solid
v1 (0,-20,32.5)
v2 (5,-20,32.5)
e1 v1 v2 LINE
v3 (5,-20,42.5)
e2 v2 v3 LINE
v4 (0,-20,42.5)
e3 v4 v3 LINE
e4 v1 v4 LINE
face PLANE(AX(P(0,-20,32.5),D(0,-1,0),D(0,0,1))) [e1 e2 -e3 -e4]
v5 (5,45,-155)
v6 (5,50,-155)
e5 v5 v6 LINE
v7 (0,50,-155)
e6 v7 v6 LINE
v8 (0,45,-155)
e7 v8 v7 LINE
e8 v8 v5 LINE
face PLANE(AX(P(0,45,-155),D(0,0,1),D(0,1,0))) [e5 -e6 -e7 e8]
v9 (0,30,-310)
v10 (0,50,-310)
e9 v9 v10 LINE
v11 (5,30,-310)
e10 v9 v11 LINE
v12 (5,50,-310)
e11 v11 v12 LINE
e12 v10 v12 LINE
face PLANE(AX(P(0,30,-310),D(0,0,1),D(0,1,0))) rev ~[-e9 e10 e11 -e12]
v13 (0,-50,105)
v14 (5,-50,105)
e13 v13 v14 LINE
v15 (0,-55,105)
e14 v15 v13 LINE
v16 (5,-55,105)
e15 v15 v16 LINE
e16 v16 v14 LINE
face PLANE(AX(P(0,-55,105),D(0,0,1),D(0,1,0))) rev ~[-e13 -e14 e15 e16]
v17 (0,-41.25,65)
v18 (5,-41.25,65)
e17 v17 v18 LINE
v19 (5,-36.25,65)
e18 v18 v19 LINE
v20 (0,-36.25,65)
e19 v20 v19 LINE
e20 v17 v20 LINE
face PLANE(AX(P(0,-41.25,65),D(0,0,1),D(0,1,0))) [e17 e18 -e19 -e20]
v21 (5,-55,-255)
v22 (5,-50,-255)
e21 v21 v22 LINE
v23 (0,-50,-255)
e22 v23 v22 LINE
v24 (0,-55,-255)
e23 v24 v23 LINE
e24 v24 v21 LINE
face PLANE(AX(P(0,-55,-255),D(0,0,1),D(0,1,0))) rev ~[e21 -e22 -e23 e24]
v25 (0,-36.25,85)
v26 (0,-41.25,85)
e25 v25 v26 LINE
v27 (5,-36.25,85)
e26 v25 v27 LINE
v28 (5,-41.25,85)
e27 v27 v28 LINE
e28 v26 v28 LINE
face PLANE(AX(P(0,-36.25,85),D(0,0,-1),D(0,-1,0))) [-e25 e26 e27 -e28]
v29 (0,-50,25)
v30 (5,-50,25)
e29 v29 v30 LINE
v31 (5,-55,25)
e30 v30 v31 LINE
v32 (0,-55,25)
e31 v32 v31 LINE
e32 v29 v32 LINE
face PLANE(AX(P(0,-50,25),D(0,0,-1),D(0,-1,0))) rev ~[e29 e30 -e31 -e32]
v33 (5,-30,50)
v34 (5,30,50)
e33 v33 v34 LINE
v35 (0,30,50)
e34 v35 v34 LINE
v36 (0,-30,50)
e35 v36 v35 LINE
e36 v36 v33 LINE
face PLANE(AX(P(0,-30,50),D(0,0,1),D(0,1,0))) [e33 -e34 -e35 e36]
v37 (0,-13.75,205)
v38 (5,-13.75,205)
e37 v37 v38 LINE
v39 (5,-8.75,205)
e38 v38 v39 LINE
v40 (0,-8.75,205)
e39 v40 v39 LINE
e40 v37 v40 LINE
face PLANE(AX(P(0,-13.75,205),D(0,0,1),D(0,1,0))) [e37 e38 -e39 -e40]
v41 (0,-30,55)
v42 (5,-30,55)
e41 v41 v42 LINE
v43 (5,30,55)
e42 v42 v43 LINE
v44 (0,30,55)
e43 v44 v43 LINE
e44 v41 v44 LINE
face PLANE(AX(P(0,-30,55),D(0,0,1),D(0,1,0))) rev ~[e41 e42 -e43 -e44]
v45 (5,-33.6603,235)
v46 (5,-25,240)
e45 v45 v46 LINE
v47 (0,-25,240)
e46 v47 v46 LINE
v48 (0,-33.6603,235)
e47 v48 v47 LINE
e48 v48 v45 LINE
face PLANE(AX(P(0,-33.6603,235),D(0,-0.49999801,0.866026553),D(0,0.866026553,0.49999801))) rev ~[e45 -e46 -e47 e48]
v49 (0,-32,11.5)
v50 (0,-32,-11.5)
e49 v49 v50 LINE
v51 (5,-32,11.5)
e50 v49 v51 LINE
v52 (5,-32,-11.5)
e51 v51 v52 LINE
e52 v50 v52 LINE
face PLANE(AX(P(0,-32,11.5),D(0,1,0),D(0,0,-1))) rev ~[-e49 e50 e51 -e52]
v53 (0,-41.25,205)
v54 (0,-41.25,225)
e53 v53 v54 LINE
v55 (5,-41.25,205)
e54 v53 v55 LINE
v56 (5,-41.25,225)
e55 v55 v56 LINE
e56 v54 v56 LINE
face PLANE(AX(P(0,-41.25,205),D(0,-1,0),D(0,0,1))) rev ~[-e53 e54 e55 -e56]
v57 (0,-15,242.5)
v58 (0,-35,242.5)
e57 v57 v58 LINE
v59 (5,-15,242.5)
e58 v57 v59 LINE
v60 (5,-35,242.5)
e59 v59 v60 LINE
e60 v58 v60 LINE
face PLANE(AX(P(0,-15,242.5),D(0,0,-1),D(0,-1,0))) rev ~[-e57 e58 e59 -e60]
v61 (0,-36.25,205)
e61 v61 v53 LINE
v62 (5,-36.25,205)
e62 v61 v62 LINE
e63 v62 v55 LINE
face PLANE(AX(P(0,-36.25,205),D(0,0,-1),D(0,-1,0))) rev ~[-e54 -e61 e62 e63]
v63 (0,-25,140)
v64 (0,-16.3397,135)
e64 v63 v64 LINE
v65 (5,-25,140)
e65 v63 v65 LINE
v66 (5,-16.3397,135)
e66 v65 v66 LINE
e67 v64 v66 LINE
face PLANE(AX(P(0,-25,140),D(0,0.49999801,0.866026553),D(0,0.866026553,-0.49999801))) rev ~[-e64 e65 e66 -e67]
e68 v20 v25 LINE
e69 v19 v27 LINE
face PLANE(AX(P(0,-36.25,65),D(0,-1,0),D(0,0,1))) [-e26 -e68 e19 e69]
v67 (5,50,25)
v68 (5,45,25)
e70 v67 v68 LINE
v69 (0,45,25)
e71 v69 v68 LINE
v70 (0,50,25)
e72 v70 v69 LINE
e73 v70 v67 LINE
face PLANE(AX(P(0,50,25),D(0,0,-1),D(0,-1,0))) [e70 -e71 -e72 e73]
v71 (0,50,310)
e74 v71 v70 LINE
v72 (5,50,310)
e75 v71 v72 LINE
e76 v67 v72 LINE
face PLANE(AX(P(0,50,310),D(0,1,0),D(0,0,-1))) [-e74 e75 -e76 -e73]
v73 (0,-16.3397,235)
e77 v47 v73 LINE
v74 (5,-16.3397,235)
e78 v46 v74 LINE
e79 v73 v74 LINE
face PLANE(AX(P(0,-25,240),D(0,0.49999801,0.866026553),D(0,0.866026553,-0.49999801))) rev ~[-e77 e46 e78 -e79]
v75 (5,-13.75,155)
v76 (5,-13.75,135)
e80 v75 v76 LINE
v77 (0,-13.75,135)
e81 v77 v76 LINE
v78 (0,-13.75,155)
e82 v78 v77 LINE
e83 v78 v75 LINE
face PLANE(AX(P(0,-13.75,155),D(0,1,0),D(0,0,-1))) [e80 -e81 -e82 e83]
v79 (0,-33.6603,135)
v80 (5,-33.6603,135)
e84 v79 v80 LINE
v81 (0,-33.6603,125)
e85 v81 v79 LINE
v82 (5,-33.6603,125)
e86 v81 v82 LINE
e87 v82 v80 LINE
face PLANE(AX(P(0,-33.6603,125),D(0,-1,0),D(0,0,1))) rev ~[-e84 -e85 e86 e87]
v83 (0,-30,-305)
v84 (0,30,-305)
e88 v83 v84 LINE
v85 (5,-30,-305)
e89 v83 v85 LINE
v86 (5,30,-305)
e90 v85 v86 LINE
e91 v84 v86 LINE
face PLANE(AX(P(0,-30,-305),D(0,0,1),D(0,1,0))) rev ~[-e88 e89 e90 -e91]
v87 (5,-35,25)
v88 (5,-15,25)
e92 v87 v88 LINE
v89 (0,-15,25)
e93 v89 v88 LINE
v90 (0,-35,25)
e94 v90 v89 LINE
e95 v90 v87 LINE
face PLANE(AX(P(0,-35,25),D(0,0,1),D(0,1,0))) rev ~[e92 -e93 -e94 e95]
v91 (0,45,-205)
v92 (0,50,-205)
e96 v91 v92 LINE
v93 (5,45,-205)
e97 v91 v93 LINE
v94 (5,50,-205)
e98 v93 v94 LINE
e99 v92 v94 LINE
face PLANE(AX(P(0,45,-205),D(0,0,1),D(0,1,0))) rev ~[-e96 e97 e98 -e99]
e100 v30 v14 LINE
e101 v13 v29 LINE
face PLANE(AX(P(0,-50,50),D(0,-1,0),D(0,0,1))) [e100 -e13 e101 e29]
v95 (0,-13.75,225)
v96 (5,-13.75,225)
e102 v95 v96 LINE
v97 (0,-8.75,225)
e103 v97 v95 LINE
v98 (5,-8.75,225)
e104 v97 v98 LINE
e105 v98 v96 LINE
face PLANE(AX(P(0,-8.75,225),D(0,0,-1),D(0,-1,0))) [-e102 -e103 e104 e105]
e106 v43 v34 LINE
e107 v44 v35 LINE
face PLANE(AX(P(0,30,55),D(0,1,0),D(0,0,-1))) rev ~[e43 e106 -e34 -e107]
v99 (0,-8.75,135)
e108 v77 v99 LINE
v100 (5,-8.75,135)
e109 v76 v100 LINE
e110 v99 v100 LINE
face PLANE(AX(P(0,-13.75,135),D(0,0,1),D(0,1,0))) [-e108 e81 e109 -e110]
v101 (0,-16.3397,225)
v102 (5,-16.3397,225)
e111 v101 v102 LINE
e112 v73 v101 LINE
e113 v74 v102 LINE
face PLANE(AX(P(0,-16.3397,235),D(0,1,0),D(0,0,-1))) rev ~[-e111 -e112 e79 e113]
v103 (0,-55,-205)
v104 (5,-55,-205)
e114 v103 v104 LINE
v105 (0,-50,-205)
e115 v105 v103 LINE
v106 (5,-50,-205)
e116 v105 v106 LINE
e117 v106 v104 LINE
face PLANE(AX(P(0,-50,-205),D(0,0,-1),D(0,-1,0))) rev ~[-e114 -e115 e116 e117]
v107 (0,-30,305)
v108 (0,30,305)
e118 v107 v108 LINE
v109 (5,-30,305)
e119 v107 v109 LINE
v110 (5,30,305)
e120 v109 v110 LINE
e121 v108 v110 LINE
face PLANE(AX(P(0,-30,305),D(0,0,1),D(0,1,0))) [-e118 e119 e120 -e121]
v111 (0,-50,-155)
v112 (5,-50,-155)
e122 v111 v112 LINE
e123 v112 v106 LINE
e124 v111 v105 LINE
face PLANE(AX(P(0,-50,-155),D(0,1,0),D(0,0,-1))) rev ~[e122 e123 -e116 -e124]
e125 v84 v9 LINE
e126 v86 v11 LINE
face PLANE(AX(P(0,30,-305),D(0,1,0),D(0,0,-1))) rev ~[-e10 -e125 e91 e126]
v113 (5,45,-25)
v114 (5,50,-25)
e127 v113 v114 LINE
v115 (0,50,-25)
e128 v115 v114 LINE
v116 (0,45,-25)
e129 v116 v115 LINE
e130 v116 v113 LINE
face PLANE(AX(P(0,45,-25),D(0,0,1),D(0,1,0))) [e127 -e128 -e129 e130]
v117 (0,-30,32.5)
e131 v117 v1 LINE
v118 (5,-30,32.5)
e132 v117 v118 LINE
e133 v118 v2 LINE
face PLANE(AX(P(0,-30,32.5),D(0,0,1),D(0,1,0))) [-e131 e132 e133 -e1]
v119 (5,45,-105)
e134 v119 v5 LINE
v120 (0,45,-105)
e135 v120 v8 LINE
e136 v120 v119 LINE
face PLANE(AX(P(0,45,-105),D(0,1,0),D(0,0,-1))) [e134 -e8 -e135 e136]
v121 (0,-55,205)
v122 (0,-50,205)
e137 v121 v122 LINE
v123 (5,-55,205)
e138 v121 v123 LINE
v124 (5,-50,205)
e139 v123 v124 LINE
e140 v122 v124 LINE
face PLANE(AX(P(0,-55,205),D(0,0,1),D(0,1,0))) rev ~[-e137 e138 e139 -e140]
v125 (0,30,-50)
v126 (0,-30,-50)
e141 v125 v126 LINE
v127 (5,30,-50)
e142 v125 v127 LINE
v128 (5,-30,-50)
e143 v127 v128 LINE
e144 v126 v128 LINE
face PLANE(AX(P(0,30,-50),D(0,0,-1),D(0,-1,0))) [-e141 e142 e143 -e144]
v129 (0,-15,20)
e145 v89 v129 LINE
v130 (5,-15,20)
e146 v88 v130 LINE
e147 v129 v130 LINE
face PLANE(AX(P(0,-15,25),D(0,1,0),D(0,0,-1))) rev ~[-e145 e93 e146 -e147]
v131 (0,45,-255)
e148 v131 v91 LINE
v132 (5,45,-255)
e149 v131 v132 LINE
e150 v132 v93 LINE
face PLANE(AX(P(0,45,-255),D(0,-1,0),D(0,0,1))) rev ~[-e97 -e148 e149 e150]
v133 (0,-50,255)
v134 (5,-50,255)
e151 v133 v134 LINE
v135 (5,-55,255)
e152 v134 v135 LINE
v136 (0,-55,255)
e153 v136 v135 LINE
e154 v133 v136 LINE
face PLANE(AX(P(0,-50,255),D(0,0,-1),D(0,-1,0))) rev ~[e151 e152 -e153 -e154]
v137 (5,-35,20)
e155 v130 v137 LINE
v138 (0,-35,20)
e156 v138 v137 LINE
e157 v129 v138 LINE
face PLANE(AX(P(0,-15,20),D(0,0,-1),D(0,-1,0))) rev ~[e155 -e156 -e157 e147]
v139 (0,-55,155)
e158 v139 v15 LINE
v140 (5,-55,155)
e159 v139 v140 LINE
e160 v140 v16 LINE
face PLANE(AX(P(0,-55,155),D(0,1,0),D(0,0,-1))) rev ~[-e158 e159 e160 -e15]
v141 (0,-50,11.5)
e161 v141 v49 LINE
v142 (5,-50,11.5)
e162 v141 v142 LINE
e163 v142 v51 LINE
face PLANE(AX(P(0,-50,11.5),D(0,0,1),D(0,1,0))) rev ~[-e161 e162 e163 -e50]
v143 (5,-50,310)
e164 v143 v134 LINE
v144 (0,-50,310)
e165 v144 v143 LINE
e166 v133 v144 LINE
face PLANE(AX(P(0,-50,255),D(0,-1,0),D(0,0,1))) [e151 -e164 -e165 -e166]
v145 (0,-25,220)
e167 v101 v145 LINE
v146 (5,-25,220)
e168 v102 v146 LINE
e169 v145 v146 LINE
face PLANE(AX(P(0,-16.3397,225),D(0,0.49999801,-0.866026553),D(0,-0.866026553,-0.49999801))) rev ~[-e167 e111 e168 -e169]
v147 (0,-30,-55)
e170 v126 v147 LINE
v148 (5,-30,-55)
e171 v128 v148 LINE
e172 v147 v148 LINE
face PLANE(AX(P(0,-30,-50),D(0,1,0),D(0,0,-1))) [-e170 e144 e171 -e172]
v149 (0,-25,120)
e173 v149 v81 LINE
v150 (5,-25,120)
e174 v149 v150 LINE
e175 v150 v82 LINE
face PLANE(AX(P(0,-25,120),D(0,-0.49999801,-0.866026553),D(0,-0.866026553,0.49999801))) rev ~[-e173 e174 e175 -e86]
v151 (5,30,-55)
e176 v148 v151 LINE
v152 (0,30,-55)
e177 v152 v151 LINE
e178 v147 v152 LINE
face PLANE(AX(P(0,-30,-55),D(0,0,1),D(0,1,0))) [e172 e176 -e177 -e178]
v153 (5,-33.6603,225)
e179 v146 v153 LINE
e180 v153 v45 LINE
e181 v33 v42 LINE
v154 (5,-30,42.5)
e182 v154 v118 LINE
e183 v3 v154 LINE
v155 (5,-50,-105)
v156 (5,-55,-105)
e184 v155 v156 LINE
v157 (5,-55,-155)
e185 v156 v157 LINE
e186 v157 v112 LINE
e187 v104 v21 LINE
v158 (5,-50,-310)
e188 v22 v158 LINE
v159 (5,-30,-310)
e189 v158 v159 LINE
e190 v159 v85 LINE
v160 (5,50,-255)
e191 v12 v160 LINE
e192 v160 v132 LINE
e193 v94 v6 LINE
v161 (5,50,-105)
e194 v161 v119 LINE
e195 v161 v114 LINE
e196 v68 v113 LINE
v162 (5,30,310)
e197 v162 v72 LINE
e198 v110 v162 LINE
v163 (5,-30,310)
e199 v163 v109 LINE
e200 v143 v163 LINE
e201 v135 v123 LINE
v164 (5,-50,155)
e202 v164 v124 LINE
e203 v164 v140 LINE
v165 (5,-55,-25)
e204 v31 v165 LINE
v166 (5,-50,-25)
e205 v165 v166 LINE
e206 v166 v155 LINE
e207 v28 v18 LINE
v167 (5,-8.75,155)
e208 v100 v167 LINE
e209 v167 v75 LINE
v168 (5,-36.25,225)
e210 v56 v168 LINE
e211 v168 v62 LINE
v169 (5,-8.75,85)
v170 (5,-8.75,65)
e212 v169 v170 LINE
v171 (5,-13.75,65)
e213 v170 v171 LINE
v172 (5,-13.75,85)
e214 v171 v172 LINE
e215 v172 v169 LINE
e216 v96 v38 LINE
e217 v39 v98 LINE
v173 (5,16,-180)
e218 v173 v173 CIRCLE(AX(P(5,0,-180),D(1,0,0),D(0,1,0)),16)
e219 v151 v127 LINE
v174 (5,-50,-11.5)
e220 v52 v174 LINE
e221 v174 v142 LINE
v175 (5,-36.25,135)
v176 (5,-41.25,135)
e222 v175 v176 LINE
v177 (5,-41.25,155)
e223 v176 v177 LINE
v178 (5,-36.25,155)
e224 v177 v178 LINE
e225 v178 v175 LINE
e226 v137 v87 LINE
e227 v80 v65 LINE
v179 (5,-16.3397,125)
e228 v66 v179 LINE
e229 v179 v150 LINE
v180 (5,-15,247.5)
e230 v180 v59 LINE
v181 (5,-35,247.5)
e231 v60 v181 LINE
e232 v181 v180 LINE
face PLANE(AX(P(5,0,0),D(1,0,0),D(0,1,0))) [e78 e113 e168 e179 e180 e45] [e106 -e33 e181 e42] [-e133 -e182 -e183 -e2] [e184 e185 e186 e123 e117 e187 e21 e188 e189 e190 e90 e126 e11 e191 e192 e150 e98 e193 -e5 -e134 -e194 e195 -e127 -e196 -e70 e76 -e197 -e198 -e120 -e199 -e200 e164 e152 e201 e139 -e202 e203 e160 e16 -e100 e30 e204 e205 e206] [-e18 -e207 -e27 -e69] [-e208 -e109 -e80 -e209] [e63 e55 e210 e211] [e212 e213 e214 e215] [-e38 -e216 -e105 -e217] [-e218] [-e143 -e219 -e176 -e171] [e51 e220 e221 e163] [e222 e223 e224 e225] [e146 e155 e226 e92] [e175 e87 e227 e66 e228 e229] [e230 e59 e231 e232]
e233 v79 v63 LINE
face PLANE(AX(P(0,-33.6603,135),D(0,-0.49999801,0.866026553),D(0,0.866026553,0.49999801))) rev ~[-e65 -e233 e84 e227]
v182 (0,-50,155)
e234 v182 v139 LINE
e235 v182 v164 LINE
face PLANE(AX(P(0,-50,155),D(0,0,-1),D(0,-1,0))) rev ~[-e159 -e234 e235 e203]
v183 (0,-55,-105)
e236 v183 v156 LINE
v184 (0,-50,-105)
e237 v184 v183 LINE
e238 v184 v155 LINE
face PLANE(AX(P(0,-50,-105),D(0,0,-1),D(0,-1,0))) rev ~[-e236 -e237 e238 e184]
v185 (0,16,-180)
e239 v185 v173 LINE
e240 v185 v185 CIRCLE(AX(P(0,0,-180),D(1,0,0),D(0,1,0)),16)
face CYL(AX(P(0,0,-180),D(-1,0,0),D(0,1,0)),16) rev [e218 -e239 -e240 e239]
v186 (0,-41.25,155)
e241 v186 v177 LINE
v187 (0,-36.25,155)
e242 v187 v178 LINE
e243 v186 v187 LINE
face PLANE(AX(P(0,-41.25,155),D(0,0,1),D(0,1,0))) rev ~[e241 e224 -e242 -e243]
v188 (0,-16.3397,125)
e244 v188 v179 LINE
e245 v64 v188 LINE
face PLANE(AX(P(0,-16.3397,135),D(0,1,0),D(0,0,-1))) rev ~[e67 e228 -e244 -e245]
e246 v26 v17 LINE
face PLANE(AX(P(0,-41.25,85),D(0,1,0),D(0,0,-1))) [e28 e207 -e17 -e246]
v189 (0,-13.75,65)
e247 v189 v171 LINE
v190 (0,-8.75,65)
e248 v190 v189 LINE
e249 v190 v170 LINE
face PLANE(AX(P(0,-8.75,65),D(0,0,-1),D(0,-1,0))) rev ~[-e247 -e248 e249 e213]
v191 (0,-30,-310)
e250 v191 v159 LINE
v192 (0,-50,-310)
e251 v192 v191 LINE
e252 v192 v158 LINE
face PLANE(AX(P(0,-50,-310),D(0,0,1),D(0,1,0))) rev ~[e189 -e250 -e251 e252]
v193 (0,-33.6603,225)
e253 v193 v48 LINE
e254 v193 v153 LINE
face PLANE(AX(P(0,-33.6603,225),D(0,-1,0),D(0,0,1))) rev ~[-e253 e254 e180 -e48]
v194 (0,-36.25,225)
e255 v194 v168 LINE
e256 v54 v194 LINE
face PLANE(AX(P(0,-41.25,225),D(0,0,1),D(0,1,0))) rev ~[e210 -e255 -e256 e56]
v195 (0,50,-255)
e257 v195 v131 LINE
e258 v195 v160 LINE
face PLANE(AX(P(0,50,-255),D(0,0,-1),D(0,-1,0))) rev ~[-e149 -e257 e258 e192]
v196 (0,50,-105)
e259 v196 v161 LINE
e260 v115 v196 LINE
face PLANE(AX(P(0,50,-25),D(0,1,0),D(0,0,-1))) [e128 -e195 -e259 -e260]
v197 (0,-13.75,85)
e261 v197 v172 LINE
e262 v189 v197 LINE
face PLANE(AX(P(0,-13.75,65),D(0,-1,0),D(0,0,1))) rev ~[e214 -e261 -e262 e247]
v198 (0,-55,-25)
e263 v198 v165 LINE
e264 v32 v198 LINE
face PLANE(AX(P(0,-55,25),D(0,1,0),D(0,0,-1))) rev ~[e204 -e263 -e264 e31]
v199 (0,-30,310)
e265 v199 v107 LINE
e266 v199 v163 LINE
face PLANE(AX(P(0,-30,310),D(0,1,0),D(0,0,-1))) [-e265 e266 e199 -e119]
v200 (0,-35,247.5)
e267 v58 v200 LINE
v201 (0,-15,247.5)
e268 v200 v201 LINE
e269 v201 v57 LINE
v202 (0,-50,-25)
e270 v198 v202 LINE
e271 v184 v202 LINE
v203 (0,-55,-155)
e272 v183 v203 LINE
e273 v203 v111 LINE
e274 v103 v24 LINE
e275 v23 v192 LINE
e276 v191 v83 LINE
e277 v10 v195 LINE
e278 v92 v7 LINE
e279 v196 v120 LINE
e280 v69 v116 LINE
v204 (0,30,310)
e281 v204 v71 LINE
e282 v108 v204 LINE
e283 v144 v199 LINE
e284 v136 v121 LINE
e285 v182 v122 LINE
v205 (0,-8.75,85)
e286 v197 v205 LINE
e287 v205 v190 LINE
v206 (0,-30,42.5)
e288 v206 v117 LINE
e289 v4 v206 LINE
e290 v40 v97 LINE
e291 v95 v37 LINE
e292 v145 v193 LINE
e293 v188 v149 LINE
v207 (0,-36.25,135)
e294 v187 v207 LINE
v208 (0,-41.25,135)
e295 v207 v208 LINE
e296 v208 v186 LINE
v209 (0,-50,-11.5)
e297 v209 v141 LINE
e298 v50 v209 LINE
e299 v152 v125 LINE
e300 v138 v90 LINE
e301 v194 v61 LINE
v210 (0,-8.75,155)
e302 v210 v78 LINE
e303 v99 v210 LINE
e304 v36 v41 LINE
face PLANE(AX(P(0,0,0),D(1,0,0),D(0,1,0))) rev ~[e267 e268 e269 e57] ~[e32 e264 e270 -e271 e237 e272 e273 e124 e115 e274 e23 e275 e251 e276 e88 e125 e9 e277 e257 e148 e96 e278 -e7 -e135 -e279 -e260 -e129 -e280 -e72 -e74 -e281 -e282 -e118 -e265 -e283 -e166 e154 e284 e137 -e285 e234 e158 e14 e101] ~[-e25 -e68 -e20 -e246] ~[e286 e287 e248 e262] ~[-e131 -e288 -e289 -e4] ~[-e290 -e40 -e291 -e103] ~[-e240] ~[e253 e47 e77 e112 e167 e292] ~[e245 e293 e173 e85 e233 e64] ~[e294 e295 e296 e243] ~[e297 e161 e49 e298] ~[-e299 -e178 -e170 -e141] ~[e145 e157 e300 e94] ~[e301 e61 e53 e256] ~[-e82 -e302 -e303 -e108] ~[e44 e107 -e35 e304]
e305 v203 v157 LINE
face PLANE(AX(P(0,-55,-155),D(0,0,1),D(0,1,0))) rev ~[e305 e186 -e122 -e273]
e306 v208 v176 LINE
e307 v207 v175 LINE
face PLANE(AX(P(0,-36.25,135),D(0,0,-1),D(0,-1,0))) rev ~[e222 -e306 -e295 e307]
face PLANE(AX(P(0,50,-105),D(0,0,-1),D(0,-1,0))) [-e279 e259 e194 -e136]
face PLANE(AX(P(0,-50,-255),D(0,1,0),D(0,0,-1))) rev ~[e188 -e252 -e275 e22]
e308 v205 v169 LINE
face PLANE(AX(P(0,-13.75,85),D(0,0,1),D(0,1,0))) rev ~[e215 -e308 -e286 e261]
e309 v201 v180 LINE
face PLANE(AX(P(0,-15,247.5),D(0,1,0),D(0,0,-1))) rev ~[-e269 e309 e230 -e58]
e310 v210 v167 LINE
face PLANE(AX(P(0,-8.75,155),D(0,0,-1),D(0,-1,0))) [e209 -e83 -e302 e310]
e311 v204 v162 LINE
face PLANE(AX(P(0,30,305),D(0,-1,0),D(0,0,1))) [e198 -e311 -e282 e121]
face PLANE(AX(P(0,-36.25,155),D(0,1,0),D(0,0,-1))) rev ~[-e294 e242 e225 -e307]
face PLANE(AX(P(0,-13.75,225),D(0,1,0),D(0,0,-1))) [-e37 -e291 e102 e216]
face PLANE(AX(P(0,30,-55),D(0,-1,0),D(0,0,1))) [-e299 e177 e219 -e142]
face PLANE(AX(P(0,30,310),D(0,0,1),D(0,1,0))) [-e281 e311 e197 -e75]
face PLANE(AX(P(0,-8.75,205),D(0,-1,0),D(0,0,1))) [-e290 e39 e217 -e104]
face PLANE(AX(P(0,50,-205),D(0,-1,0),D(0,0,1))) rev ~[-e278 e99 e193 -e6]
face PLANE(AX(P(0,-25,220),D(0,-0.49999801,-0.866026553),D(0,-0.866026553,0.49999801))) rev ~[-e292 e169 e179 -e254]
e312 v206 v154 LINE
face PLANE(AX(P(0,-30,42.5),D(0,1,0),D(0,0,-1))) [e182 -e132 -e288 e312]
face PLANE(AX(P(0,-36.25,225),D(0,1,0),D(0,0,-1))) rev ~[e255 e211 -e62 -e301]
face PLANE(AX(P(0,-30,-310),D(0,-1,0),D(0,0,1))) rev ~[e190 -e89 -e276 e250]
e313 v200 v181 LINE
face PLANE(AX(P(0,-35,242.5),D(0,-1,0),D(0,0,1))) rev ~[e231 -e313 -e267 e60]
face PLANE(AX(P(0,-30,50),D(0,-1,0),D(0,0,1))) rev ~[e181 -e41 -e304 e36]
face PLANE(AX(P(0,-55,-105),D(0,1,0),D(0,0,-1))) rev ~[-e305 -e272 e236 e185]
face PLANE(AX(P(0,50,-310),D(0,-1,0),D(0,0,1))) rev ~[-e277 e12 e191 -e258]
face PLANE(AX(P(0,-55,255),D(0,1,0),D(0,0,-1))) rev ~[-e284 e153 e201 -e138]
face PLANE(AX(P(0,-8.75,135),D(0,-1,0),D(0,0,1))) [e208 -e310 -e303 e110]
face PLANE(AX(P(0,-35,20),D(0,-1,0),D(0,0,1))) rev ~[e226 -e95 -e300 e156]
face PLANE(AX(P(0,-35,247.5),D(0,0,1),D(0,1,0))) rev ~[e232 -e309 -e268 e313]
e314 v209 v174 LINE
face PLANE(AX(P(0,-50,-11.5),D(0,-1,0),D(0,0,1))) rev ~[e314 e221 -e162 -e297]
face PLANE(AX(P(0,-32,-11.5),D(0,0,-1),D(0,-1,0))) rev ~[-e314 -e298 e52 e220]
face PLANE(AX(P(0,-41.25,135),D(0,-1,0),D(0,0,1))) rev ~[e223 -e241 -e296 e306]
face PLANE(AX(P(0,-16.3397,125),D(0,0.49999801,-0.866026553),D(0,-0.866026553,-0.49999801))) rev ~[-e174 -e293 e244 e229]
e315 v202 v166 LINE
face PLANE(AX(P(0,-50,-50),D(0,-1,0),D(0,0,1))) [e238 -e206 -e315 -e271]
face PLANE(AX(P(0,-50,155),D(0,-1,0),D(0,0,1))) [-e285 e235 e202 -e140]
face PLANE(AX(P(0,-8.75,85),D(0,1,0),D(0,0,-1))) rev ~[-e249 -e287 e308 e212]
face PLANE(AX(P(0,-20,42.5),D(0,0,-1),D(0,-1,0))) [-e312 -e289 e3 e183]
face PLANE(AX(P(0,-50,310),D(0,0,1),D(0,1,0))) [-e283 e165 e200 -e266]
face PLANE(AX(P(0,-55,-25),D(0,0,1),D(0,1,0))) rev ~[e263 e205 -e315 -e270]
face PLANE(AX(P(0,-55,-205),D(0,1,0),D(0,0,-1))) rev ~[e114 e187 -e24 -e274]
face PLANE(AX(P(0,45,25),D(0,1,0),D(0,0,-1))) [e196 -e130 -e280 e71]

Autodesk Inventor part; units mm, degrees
ref_plane "YZ Plane" through (0, 0, 0) normal (1, 0, 0) x (0, 1, 0)
ref_plane "XZ Plane" through (0, 0, 0) normal (0, 1, 0) x (-1, 0, 0)
ref_plane "XY Plane" through (0, 0, 0) normal (0, 0, 1) x (1, 0, 0)
sketch "Sketch1" plane through (0, 0, 0) normal (1, 0, 0) x (0, 1, 0)
  line L0 (-50, 50) -> (50, 50)
  line L1 (50, 50) -> (50, -50)
  line L2 (50, -50) -> (-50, -50)
  line L3 (-50, -50) -> (-50, 50)
  line L4 (-50, 50) -> (50, -50) construction
  line L5 (50, 50) -> (-50, -50) construction
  line L6 (50, 50) -> (-50, 50)
  line L7 (-50, 50) -> (-50, 310)
  line L8 (-50, 310) -> (50, 310)
  line L9 (50, 310) -> (50, 50)
  line L10 (50, -50) -> (-50, -50)
  line L11 (-50, -50) -> (-50, -310)
  line L12 (-50, -310) -> (50, -310)
  line L13 (50, -310) -> (50, -50)
  line L14 (-50, 255) -> (-55, 255)
  line L15 (-55, 255) -> (-55, 205)
  line L16 (-55, 205) -> (-50, 205)
  line L17 (-50, 205) -> (-50, 255)
  line L18 (-50, 155) -> (-55, 155)
  line L19 (-55, 155) -> (-55, 105)
  line L20 (-55, 105) -> (-50, 105)
  line L21 (-50, 105) -> (-50, 155)
  line L22 (-50, 25) -> (-55, 25)
  line L23 (-55, 25) -> (-55, -25)
  line L24 (-55, -25) -> (-50, -25)
  line L25 (-50, -25) -> (-50, 25)
  line L26 (-50, -105) -> (-55, -105)
  line L27 (-55, -105) -> (-55, -155)
  line L28 (-55, -155) -> (-50, -155)
  line L29 (-50, -155) -> (-50, -105)
  line L30 (-50, -205) -> (-55, -205)
  line L31 (-55, -205) -> (-55, -255)
  line L32 (-55, -255) -> (-50, -255)
  line L33 (-50, -255) -> (-50, -205)
  line L34 (50, 310) -> (30, 310)
  line L35 (50, 305) -> (50, 310)
  line L36 (-50, 310) -> (-30, 310)
  line L37 (-50, 305) -> (-50, 310)
  line L38 (30, 50) -> (-30, 50)
  line L39 (-30, 50) -> (-30, 55)
  line L40 (-30, 55) -> (30, 55)
  line L41 (30, 55) -> (30, 50)
  line L42 (30, -50) -> (-36.1124, -50)
  line L43 (50, 0) -> (-50, 0) construction
  line L44 (-30, -50) -> (-30, -55)
  line L45 (-30, -55) -> (30, -55)
  line L46 (30, -55) -> (30, -50)
  line L47 (30, 310) -> (-30, 310)
  line L48 (-30, 310) -> (-30, 305)
  line L49 (-30, 305) -> (30, 305)
  line L50 (30, 305) -> (30, 310)
  line L51 (-30, -310) -> (-30, -305)
  line L52 (-30, -305) -> (30, -305)
  line L53 (30, -305) -> (30, -310)
  line L54 (-50, -180) -> (50, -180) construction
  circle A0 centre (0, -180) radius 16
  line L55 (50, 25) -> (45, 25)
  line L56 (45, 25) -> (45, -25)
  line L57 (45, -25) -> (50, -25)
  line L58 (50, -25) -> (50, 25)
  line L59 (50, -105) -> (45, -105)
  line L60 (45, -105) -> (45, -155)
  line L61 (45, -155) -> (50, -155)
  line L62 (50, -155) -> (50, -105)
  line L63 (50, -255) -> (45, -255)
  line L64 (45, -255) -> (45, -205)
  line L65 (45, -205) -> (50, -205)
  line L66 (-50, 11.5) -> (-32, 11.5)
  line L67 (-32, 11.5) -> (-32, -11.5)
  line L68 (-32, -11.5) -> (-50, -11.5)
  line L69 (-50, -11.5) -> (-50, 11.5)
  line L70 (-33.6603, 235) -> (-25, 240)
  line L71 (-25, 240) -> (-16.3397, 235)
  line L72 (-16.3397, 235) -> (-16.3397, 225)
  line L73 (-16.3397, 225) -> (-25, 220)
  line L74 (-25, 220) -> (-33.6603, 225)
  line L75 (-33.6603, 225) -> (-33.6603, 235)
  line L76 (-33.6603, 135) -> (-25, 140)
  line L77 (-25, 140) -> (-16.3397, 135)
  line L78 (-16.3397, 135) -> (-16.3397, 125)
  line L79 (-16.3397, 125) -> (-25, 120)
  line L80 (-25, 120) -> (-33.6603, 125)
  line L81 (-33.6603, 125) -> (-33.6603, 135)
  line L82 (-8.75, 225) -> (-13.75, 225)
  line L83 (-13.75, 225) -> (-13.75, 205)
  line L84 (-13.75, 205) -> (-8.75, 205)
  line L85 (-8.75, 205) -> (-8.75, 225)
  line L86 (-13.75, 135) -> (-8.75, 135)
  line L87 (-8.75, 135) -> (-8.75, 155)
  line L88 (-8.75, 155) -> (-13.75, 155)
  line L89 (-13.75, 155) -> (-13.75, 135)
  line L90 (-13.75, 85) -> (-8.75, 85)
  line L91 (-8.75, 85) -> (-8.75, 65)
  line L92 (-8.75, 65) -> (-13.75, 65)
  line L93 (-13.75, 65) -> (-13.75, 85)
  line L94 (-25, 314.14) -> (-25, -94.5604) construction
  line L95 (-41.25, 225) -> (-36.25, 225)
  line L96 (-36.25, 225) -> (-36.25, 205)
  line L97 (-36.25, 205) -> (-41.25, 205)
  line L98 (-41.25, 205) -> (-41.25, 225)
  line L99 (-36.25, 135) -> (-41.25, 135)
  line L100 (-41.25, 135) -> (-41.25, 155)
  line L101 (-41.25, 155) -> (-36.25, 155)
  line L102 (-36.25, 155) -> (-36.25, 135)
  line L103 (-36.25, 85) -> (-41.25, 85)
  line L104 (-41.25, 85) -> (-41.25, 65)
  line L105 (-41.25, 65) -> (-36.25, 65)
  line L106 (-36.25, 65) -> (-36.25, 85)
  line L107 (-15, 242.5) -> (-35, 242.5)
  line L108 (-35, 242.5) -> (-35, 247.5)
  line L109 (-35, 247.5) -> (-15, 247.5)
  line L110 (-15, 247.5) -> (-15, 242.5)
  line L111 (-15, 20) -> (-35, 20)
  line L112 (-35, 20) -> (-35, 25)
  line L113 (-35, 25) -> (-15, 25)
  line L114 (-15, 25) -> (-15, 20)
  line L115 (-20, 42.5) -> (-30, 42.5)
  line L116 (-30, 42.5) -> (-30, 32.5)
  line L117 (-30, 32.5) -> (-20, 32.5)
  line L118 (-20, 32.5) -> (-20, 42.5)
  point P0 (0, 0)
  point P1 (-52.5, 155)
  point P2 (-52.5, 205)
  point P3 (-50, 205)
  point P4 (-50, 105)
  point P5 (-50, -155)
  point P6 (-50, -255)
  point P7 (30, -50)
  point P8 (-30, -50)
  point P9 (-30, 50)
  point P10 (30, 50)
  point P11 (30, 307.5)
  point P12 (-30, -310)
  point P13 (30, -310)
  point P14 (30, 310)
  point P15 (-30, 310)
  point P16 (50, -25)
  point P17 (50, -255)
  point P18 (50, -205)
  point P19 (50, -155)
  point P20 (-50, 0)
  point P21 (-50, 11.5)
  point P22 (-50, -11.5)
  point P23 (-25, 230)
  point P24 (-25, 130)
  point P25 (-13.75, 145)
  point P26 (-36.25, 145)
  point P27 (-15, 22.5)
  point P28 (-30, 37.5)
  dimension "d0" = 100
  dimension "d1" = 260
  dimension "d2" = 100
  dimension "d3" = 260
  dimension "d4" = 50
  dimension "d5" = 50
  dimension "d6" = 50
  dimension "d7" = 50
  dimension "d8" = 50
  dimension "d9" = 55
  dimension "d10" = 50
  dimension "d11" = 25
  dimension "d12" = 55
  dimension "d13" = 50
  dimension "d14" = 5
  dimension "d20" = 5
  dimension "d21" = 5
  dimension "d23" = 20
  dimension "d26" = 32
  dimension "d27" = 5
  dimension "d28" = 5
  dimension "d29" = 18
  dimension "d30" = 23
  dimension "d31" = 11.5
  dimension "d32" = 20
  dimension "d34" = 10
  dimension "d35" = 25
  dimension "d37" = 25
  dimension "d38" = 16.3397
  dimension "d39" = 10
  dimension "d40" = 25
  dimension "d41" = 16.3397
  dimension "d42" = 25
  dimension "d43" = 11.25
  dimension "d44" = 20
  dimension "d45" = 0
  dimension "d46" = 5
  dimension "d47" = 20
  dimension "d48" = 5
  dimension "d49" = 11.25
  dimension "d50" = 50
  dimension "d51" = 20
  dimension "d52" = 5
  dimension "d53" = 11.25
  dimension "d54" = 11.25
  dimension "d55" = 20
  dimension "d56" = 10
  dimension "d57" = 5
  dimension "d58" = 12.5
  dimension "d59" = 5
  dimension "d60" = 20
  dimension "d61" = 10
  dimension "d62" = 40
  dimension "d63" = 10
  dimension "d64" = 10
  dimension "d65" = 5
  dimension "d66" = 7.5
extrude "Extrusion1" add sketch "Sketch1" along normal blind 5 contours L7 L8 L48 L49 L50 L9 L0 L41 L40 L39 | L0 L1 L55 L56 L57 L2 L3 L68 L67 L66 | L3 L24 L23 L22 | L20 L19 L18 L7 | L16 L15 L14 L7 | L2 L44 L45 L46 L13 L59 L60 L61 L65 L64 L63 L12 L53 L52 L51 L11 | L11 L28 L27 L26 | L11 L32 L31 L30
equation "\"BendRadius\" = Thickness"
equation "\"BendReliefWidth\" = Thickness"
equation "\"BendReliefDepth\" = 0.5 * Thickness"
equation "\"CornerReliefSize\" = 4 * Thickness"
equation "\"MinimumRemnant\" = 2 * Thickness"
equation "\"TransitionRadius\" = BendRadius"
equation "\"JacobiRadiusSize\" = BendRadius"
equation "\"GapSize\" = Thickness"
equation "\"Thickness\" = 3.048"
properties part number "Lat2" material "Wood (Cherry)"
